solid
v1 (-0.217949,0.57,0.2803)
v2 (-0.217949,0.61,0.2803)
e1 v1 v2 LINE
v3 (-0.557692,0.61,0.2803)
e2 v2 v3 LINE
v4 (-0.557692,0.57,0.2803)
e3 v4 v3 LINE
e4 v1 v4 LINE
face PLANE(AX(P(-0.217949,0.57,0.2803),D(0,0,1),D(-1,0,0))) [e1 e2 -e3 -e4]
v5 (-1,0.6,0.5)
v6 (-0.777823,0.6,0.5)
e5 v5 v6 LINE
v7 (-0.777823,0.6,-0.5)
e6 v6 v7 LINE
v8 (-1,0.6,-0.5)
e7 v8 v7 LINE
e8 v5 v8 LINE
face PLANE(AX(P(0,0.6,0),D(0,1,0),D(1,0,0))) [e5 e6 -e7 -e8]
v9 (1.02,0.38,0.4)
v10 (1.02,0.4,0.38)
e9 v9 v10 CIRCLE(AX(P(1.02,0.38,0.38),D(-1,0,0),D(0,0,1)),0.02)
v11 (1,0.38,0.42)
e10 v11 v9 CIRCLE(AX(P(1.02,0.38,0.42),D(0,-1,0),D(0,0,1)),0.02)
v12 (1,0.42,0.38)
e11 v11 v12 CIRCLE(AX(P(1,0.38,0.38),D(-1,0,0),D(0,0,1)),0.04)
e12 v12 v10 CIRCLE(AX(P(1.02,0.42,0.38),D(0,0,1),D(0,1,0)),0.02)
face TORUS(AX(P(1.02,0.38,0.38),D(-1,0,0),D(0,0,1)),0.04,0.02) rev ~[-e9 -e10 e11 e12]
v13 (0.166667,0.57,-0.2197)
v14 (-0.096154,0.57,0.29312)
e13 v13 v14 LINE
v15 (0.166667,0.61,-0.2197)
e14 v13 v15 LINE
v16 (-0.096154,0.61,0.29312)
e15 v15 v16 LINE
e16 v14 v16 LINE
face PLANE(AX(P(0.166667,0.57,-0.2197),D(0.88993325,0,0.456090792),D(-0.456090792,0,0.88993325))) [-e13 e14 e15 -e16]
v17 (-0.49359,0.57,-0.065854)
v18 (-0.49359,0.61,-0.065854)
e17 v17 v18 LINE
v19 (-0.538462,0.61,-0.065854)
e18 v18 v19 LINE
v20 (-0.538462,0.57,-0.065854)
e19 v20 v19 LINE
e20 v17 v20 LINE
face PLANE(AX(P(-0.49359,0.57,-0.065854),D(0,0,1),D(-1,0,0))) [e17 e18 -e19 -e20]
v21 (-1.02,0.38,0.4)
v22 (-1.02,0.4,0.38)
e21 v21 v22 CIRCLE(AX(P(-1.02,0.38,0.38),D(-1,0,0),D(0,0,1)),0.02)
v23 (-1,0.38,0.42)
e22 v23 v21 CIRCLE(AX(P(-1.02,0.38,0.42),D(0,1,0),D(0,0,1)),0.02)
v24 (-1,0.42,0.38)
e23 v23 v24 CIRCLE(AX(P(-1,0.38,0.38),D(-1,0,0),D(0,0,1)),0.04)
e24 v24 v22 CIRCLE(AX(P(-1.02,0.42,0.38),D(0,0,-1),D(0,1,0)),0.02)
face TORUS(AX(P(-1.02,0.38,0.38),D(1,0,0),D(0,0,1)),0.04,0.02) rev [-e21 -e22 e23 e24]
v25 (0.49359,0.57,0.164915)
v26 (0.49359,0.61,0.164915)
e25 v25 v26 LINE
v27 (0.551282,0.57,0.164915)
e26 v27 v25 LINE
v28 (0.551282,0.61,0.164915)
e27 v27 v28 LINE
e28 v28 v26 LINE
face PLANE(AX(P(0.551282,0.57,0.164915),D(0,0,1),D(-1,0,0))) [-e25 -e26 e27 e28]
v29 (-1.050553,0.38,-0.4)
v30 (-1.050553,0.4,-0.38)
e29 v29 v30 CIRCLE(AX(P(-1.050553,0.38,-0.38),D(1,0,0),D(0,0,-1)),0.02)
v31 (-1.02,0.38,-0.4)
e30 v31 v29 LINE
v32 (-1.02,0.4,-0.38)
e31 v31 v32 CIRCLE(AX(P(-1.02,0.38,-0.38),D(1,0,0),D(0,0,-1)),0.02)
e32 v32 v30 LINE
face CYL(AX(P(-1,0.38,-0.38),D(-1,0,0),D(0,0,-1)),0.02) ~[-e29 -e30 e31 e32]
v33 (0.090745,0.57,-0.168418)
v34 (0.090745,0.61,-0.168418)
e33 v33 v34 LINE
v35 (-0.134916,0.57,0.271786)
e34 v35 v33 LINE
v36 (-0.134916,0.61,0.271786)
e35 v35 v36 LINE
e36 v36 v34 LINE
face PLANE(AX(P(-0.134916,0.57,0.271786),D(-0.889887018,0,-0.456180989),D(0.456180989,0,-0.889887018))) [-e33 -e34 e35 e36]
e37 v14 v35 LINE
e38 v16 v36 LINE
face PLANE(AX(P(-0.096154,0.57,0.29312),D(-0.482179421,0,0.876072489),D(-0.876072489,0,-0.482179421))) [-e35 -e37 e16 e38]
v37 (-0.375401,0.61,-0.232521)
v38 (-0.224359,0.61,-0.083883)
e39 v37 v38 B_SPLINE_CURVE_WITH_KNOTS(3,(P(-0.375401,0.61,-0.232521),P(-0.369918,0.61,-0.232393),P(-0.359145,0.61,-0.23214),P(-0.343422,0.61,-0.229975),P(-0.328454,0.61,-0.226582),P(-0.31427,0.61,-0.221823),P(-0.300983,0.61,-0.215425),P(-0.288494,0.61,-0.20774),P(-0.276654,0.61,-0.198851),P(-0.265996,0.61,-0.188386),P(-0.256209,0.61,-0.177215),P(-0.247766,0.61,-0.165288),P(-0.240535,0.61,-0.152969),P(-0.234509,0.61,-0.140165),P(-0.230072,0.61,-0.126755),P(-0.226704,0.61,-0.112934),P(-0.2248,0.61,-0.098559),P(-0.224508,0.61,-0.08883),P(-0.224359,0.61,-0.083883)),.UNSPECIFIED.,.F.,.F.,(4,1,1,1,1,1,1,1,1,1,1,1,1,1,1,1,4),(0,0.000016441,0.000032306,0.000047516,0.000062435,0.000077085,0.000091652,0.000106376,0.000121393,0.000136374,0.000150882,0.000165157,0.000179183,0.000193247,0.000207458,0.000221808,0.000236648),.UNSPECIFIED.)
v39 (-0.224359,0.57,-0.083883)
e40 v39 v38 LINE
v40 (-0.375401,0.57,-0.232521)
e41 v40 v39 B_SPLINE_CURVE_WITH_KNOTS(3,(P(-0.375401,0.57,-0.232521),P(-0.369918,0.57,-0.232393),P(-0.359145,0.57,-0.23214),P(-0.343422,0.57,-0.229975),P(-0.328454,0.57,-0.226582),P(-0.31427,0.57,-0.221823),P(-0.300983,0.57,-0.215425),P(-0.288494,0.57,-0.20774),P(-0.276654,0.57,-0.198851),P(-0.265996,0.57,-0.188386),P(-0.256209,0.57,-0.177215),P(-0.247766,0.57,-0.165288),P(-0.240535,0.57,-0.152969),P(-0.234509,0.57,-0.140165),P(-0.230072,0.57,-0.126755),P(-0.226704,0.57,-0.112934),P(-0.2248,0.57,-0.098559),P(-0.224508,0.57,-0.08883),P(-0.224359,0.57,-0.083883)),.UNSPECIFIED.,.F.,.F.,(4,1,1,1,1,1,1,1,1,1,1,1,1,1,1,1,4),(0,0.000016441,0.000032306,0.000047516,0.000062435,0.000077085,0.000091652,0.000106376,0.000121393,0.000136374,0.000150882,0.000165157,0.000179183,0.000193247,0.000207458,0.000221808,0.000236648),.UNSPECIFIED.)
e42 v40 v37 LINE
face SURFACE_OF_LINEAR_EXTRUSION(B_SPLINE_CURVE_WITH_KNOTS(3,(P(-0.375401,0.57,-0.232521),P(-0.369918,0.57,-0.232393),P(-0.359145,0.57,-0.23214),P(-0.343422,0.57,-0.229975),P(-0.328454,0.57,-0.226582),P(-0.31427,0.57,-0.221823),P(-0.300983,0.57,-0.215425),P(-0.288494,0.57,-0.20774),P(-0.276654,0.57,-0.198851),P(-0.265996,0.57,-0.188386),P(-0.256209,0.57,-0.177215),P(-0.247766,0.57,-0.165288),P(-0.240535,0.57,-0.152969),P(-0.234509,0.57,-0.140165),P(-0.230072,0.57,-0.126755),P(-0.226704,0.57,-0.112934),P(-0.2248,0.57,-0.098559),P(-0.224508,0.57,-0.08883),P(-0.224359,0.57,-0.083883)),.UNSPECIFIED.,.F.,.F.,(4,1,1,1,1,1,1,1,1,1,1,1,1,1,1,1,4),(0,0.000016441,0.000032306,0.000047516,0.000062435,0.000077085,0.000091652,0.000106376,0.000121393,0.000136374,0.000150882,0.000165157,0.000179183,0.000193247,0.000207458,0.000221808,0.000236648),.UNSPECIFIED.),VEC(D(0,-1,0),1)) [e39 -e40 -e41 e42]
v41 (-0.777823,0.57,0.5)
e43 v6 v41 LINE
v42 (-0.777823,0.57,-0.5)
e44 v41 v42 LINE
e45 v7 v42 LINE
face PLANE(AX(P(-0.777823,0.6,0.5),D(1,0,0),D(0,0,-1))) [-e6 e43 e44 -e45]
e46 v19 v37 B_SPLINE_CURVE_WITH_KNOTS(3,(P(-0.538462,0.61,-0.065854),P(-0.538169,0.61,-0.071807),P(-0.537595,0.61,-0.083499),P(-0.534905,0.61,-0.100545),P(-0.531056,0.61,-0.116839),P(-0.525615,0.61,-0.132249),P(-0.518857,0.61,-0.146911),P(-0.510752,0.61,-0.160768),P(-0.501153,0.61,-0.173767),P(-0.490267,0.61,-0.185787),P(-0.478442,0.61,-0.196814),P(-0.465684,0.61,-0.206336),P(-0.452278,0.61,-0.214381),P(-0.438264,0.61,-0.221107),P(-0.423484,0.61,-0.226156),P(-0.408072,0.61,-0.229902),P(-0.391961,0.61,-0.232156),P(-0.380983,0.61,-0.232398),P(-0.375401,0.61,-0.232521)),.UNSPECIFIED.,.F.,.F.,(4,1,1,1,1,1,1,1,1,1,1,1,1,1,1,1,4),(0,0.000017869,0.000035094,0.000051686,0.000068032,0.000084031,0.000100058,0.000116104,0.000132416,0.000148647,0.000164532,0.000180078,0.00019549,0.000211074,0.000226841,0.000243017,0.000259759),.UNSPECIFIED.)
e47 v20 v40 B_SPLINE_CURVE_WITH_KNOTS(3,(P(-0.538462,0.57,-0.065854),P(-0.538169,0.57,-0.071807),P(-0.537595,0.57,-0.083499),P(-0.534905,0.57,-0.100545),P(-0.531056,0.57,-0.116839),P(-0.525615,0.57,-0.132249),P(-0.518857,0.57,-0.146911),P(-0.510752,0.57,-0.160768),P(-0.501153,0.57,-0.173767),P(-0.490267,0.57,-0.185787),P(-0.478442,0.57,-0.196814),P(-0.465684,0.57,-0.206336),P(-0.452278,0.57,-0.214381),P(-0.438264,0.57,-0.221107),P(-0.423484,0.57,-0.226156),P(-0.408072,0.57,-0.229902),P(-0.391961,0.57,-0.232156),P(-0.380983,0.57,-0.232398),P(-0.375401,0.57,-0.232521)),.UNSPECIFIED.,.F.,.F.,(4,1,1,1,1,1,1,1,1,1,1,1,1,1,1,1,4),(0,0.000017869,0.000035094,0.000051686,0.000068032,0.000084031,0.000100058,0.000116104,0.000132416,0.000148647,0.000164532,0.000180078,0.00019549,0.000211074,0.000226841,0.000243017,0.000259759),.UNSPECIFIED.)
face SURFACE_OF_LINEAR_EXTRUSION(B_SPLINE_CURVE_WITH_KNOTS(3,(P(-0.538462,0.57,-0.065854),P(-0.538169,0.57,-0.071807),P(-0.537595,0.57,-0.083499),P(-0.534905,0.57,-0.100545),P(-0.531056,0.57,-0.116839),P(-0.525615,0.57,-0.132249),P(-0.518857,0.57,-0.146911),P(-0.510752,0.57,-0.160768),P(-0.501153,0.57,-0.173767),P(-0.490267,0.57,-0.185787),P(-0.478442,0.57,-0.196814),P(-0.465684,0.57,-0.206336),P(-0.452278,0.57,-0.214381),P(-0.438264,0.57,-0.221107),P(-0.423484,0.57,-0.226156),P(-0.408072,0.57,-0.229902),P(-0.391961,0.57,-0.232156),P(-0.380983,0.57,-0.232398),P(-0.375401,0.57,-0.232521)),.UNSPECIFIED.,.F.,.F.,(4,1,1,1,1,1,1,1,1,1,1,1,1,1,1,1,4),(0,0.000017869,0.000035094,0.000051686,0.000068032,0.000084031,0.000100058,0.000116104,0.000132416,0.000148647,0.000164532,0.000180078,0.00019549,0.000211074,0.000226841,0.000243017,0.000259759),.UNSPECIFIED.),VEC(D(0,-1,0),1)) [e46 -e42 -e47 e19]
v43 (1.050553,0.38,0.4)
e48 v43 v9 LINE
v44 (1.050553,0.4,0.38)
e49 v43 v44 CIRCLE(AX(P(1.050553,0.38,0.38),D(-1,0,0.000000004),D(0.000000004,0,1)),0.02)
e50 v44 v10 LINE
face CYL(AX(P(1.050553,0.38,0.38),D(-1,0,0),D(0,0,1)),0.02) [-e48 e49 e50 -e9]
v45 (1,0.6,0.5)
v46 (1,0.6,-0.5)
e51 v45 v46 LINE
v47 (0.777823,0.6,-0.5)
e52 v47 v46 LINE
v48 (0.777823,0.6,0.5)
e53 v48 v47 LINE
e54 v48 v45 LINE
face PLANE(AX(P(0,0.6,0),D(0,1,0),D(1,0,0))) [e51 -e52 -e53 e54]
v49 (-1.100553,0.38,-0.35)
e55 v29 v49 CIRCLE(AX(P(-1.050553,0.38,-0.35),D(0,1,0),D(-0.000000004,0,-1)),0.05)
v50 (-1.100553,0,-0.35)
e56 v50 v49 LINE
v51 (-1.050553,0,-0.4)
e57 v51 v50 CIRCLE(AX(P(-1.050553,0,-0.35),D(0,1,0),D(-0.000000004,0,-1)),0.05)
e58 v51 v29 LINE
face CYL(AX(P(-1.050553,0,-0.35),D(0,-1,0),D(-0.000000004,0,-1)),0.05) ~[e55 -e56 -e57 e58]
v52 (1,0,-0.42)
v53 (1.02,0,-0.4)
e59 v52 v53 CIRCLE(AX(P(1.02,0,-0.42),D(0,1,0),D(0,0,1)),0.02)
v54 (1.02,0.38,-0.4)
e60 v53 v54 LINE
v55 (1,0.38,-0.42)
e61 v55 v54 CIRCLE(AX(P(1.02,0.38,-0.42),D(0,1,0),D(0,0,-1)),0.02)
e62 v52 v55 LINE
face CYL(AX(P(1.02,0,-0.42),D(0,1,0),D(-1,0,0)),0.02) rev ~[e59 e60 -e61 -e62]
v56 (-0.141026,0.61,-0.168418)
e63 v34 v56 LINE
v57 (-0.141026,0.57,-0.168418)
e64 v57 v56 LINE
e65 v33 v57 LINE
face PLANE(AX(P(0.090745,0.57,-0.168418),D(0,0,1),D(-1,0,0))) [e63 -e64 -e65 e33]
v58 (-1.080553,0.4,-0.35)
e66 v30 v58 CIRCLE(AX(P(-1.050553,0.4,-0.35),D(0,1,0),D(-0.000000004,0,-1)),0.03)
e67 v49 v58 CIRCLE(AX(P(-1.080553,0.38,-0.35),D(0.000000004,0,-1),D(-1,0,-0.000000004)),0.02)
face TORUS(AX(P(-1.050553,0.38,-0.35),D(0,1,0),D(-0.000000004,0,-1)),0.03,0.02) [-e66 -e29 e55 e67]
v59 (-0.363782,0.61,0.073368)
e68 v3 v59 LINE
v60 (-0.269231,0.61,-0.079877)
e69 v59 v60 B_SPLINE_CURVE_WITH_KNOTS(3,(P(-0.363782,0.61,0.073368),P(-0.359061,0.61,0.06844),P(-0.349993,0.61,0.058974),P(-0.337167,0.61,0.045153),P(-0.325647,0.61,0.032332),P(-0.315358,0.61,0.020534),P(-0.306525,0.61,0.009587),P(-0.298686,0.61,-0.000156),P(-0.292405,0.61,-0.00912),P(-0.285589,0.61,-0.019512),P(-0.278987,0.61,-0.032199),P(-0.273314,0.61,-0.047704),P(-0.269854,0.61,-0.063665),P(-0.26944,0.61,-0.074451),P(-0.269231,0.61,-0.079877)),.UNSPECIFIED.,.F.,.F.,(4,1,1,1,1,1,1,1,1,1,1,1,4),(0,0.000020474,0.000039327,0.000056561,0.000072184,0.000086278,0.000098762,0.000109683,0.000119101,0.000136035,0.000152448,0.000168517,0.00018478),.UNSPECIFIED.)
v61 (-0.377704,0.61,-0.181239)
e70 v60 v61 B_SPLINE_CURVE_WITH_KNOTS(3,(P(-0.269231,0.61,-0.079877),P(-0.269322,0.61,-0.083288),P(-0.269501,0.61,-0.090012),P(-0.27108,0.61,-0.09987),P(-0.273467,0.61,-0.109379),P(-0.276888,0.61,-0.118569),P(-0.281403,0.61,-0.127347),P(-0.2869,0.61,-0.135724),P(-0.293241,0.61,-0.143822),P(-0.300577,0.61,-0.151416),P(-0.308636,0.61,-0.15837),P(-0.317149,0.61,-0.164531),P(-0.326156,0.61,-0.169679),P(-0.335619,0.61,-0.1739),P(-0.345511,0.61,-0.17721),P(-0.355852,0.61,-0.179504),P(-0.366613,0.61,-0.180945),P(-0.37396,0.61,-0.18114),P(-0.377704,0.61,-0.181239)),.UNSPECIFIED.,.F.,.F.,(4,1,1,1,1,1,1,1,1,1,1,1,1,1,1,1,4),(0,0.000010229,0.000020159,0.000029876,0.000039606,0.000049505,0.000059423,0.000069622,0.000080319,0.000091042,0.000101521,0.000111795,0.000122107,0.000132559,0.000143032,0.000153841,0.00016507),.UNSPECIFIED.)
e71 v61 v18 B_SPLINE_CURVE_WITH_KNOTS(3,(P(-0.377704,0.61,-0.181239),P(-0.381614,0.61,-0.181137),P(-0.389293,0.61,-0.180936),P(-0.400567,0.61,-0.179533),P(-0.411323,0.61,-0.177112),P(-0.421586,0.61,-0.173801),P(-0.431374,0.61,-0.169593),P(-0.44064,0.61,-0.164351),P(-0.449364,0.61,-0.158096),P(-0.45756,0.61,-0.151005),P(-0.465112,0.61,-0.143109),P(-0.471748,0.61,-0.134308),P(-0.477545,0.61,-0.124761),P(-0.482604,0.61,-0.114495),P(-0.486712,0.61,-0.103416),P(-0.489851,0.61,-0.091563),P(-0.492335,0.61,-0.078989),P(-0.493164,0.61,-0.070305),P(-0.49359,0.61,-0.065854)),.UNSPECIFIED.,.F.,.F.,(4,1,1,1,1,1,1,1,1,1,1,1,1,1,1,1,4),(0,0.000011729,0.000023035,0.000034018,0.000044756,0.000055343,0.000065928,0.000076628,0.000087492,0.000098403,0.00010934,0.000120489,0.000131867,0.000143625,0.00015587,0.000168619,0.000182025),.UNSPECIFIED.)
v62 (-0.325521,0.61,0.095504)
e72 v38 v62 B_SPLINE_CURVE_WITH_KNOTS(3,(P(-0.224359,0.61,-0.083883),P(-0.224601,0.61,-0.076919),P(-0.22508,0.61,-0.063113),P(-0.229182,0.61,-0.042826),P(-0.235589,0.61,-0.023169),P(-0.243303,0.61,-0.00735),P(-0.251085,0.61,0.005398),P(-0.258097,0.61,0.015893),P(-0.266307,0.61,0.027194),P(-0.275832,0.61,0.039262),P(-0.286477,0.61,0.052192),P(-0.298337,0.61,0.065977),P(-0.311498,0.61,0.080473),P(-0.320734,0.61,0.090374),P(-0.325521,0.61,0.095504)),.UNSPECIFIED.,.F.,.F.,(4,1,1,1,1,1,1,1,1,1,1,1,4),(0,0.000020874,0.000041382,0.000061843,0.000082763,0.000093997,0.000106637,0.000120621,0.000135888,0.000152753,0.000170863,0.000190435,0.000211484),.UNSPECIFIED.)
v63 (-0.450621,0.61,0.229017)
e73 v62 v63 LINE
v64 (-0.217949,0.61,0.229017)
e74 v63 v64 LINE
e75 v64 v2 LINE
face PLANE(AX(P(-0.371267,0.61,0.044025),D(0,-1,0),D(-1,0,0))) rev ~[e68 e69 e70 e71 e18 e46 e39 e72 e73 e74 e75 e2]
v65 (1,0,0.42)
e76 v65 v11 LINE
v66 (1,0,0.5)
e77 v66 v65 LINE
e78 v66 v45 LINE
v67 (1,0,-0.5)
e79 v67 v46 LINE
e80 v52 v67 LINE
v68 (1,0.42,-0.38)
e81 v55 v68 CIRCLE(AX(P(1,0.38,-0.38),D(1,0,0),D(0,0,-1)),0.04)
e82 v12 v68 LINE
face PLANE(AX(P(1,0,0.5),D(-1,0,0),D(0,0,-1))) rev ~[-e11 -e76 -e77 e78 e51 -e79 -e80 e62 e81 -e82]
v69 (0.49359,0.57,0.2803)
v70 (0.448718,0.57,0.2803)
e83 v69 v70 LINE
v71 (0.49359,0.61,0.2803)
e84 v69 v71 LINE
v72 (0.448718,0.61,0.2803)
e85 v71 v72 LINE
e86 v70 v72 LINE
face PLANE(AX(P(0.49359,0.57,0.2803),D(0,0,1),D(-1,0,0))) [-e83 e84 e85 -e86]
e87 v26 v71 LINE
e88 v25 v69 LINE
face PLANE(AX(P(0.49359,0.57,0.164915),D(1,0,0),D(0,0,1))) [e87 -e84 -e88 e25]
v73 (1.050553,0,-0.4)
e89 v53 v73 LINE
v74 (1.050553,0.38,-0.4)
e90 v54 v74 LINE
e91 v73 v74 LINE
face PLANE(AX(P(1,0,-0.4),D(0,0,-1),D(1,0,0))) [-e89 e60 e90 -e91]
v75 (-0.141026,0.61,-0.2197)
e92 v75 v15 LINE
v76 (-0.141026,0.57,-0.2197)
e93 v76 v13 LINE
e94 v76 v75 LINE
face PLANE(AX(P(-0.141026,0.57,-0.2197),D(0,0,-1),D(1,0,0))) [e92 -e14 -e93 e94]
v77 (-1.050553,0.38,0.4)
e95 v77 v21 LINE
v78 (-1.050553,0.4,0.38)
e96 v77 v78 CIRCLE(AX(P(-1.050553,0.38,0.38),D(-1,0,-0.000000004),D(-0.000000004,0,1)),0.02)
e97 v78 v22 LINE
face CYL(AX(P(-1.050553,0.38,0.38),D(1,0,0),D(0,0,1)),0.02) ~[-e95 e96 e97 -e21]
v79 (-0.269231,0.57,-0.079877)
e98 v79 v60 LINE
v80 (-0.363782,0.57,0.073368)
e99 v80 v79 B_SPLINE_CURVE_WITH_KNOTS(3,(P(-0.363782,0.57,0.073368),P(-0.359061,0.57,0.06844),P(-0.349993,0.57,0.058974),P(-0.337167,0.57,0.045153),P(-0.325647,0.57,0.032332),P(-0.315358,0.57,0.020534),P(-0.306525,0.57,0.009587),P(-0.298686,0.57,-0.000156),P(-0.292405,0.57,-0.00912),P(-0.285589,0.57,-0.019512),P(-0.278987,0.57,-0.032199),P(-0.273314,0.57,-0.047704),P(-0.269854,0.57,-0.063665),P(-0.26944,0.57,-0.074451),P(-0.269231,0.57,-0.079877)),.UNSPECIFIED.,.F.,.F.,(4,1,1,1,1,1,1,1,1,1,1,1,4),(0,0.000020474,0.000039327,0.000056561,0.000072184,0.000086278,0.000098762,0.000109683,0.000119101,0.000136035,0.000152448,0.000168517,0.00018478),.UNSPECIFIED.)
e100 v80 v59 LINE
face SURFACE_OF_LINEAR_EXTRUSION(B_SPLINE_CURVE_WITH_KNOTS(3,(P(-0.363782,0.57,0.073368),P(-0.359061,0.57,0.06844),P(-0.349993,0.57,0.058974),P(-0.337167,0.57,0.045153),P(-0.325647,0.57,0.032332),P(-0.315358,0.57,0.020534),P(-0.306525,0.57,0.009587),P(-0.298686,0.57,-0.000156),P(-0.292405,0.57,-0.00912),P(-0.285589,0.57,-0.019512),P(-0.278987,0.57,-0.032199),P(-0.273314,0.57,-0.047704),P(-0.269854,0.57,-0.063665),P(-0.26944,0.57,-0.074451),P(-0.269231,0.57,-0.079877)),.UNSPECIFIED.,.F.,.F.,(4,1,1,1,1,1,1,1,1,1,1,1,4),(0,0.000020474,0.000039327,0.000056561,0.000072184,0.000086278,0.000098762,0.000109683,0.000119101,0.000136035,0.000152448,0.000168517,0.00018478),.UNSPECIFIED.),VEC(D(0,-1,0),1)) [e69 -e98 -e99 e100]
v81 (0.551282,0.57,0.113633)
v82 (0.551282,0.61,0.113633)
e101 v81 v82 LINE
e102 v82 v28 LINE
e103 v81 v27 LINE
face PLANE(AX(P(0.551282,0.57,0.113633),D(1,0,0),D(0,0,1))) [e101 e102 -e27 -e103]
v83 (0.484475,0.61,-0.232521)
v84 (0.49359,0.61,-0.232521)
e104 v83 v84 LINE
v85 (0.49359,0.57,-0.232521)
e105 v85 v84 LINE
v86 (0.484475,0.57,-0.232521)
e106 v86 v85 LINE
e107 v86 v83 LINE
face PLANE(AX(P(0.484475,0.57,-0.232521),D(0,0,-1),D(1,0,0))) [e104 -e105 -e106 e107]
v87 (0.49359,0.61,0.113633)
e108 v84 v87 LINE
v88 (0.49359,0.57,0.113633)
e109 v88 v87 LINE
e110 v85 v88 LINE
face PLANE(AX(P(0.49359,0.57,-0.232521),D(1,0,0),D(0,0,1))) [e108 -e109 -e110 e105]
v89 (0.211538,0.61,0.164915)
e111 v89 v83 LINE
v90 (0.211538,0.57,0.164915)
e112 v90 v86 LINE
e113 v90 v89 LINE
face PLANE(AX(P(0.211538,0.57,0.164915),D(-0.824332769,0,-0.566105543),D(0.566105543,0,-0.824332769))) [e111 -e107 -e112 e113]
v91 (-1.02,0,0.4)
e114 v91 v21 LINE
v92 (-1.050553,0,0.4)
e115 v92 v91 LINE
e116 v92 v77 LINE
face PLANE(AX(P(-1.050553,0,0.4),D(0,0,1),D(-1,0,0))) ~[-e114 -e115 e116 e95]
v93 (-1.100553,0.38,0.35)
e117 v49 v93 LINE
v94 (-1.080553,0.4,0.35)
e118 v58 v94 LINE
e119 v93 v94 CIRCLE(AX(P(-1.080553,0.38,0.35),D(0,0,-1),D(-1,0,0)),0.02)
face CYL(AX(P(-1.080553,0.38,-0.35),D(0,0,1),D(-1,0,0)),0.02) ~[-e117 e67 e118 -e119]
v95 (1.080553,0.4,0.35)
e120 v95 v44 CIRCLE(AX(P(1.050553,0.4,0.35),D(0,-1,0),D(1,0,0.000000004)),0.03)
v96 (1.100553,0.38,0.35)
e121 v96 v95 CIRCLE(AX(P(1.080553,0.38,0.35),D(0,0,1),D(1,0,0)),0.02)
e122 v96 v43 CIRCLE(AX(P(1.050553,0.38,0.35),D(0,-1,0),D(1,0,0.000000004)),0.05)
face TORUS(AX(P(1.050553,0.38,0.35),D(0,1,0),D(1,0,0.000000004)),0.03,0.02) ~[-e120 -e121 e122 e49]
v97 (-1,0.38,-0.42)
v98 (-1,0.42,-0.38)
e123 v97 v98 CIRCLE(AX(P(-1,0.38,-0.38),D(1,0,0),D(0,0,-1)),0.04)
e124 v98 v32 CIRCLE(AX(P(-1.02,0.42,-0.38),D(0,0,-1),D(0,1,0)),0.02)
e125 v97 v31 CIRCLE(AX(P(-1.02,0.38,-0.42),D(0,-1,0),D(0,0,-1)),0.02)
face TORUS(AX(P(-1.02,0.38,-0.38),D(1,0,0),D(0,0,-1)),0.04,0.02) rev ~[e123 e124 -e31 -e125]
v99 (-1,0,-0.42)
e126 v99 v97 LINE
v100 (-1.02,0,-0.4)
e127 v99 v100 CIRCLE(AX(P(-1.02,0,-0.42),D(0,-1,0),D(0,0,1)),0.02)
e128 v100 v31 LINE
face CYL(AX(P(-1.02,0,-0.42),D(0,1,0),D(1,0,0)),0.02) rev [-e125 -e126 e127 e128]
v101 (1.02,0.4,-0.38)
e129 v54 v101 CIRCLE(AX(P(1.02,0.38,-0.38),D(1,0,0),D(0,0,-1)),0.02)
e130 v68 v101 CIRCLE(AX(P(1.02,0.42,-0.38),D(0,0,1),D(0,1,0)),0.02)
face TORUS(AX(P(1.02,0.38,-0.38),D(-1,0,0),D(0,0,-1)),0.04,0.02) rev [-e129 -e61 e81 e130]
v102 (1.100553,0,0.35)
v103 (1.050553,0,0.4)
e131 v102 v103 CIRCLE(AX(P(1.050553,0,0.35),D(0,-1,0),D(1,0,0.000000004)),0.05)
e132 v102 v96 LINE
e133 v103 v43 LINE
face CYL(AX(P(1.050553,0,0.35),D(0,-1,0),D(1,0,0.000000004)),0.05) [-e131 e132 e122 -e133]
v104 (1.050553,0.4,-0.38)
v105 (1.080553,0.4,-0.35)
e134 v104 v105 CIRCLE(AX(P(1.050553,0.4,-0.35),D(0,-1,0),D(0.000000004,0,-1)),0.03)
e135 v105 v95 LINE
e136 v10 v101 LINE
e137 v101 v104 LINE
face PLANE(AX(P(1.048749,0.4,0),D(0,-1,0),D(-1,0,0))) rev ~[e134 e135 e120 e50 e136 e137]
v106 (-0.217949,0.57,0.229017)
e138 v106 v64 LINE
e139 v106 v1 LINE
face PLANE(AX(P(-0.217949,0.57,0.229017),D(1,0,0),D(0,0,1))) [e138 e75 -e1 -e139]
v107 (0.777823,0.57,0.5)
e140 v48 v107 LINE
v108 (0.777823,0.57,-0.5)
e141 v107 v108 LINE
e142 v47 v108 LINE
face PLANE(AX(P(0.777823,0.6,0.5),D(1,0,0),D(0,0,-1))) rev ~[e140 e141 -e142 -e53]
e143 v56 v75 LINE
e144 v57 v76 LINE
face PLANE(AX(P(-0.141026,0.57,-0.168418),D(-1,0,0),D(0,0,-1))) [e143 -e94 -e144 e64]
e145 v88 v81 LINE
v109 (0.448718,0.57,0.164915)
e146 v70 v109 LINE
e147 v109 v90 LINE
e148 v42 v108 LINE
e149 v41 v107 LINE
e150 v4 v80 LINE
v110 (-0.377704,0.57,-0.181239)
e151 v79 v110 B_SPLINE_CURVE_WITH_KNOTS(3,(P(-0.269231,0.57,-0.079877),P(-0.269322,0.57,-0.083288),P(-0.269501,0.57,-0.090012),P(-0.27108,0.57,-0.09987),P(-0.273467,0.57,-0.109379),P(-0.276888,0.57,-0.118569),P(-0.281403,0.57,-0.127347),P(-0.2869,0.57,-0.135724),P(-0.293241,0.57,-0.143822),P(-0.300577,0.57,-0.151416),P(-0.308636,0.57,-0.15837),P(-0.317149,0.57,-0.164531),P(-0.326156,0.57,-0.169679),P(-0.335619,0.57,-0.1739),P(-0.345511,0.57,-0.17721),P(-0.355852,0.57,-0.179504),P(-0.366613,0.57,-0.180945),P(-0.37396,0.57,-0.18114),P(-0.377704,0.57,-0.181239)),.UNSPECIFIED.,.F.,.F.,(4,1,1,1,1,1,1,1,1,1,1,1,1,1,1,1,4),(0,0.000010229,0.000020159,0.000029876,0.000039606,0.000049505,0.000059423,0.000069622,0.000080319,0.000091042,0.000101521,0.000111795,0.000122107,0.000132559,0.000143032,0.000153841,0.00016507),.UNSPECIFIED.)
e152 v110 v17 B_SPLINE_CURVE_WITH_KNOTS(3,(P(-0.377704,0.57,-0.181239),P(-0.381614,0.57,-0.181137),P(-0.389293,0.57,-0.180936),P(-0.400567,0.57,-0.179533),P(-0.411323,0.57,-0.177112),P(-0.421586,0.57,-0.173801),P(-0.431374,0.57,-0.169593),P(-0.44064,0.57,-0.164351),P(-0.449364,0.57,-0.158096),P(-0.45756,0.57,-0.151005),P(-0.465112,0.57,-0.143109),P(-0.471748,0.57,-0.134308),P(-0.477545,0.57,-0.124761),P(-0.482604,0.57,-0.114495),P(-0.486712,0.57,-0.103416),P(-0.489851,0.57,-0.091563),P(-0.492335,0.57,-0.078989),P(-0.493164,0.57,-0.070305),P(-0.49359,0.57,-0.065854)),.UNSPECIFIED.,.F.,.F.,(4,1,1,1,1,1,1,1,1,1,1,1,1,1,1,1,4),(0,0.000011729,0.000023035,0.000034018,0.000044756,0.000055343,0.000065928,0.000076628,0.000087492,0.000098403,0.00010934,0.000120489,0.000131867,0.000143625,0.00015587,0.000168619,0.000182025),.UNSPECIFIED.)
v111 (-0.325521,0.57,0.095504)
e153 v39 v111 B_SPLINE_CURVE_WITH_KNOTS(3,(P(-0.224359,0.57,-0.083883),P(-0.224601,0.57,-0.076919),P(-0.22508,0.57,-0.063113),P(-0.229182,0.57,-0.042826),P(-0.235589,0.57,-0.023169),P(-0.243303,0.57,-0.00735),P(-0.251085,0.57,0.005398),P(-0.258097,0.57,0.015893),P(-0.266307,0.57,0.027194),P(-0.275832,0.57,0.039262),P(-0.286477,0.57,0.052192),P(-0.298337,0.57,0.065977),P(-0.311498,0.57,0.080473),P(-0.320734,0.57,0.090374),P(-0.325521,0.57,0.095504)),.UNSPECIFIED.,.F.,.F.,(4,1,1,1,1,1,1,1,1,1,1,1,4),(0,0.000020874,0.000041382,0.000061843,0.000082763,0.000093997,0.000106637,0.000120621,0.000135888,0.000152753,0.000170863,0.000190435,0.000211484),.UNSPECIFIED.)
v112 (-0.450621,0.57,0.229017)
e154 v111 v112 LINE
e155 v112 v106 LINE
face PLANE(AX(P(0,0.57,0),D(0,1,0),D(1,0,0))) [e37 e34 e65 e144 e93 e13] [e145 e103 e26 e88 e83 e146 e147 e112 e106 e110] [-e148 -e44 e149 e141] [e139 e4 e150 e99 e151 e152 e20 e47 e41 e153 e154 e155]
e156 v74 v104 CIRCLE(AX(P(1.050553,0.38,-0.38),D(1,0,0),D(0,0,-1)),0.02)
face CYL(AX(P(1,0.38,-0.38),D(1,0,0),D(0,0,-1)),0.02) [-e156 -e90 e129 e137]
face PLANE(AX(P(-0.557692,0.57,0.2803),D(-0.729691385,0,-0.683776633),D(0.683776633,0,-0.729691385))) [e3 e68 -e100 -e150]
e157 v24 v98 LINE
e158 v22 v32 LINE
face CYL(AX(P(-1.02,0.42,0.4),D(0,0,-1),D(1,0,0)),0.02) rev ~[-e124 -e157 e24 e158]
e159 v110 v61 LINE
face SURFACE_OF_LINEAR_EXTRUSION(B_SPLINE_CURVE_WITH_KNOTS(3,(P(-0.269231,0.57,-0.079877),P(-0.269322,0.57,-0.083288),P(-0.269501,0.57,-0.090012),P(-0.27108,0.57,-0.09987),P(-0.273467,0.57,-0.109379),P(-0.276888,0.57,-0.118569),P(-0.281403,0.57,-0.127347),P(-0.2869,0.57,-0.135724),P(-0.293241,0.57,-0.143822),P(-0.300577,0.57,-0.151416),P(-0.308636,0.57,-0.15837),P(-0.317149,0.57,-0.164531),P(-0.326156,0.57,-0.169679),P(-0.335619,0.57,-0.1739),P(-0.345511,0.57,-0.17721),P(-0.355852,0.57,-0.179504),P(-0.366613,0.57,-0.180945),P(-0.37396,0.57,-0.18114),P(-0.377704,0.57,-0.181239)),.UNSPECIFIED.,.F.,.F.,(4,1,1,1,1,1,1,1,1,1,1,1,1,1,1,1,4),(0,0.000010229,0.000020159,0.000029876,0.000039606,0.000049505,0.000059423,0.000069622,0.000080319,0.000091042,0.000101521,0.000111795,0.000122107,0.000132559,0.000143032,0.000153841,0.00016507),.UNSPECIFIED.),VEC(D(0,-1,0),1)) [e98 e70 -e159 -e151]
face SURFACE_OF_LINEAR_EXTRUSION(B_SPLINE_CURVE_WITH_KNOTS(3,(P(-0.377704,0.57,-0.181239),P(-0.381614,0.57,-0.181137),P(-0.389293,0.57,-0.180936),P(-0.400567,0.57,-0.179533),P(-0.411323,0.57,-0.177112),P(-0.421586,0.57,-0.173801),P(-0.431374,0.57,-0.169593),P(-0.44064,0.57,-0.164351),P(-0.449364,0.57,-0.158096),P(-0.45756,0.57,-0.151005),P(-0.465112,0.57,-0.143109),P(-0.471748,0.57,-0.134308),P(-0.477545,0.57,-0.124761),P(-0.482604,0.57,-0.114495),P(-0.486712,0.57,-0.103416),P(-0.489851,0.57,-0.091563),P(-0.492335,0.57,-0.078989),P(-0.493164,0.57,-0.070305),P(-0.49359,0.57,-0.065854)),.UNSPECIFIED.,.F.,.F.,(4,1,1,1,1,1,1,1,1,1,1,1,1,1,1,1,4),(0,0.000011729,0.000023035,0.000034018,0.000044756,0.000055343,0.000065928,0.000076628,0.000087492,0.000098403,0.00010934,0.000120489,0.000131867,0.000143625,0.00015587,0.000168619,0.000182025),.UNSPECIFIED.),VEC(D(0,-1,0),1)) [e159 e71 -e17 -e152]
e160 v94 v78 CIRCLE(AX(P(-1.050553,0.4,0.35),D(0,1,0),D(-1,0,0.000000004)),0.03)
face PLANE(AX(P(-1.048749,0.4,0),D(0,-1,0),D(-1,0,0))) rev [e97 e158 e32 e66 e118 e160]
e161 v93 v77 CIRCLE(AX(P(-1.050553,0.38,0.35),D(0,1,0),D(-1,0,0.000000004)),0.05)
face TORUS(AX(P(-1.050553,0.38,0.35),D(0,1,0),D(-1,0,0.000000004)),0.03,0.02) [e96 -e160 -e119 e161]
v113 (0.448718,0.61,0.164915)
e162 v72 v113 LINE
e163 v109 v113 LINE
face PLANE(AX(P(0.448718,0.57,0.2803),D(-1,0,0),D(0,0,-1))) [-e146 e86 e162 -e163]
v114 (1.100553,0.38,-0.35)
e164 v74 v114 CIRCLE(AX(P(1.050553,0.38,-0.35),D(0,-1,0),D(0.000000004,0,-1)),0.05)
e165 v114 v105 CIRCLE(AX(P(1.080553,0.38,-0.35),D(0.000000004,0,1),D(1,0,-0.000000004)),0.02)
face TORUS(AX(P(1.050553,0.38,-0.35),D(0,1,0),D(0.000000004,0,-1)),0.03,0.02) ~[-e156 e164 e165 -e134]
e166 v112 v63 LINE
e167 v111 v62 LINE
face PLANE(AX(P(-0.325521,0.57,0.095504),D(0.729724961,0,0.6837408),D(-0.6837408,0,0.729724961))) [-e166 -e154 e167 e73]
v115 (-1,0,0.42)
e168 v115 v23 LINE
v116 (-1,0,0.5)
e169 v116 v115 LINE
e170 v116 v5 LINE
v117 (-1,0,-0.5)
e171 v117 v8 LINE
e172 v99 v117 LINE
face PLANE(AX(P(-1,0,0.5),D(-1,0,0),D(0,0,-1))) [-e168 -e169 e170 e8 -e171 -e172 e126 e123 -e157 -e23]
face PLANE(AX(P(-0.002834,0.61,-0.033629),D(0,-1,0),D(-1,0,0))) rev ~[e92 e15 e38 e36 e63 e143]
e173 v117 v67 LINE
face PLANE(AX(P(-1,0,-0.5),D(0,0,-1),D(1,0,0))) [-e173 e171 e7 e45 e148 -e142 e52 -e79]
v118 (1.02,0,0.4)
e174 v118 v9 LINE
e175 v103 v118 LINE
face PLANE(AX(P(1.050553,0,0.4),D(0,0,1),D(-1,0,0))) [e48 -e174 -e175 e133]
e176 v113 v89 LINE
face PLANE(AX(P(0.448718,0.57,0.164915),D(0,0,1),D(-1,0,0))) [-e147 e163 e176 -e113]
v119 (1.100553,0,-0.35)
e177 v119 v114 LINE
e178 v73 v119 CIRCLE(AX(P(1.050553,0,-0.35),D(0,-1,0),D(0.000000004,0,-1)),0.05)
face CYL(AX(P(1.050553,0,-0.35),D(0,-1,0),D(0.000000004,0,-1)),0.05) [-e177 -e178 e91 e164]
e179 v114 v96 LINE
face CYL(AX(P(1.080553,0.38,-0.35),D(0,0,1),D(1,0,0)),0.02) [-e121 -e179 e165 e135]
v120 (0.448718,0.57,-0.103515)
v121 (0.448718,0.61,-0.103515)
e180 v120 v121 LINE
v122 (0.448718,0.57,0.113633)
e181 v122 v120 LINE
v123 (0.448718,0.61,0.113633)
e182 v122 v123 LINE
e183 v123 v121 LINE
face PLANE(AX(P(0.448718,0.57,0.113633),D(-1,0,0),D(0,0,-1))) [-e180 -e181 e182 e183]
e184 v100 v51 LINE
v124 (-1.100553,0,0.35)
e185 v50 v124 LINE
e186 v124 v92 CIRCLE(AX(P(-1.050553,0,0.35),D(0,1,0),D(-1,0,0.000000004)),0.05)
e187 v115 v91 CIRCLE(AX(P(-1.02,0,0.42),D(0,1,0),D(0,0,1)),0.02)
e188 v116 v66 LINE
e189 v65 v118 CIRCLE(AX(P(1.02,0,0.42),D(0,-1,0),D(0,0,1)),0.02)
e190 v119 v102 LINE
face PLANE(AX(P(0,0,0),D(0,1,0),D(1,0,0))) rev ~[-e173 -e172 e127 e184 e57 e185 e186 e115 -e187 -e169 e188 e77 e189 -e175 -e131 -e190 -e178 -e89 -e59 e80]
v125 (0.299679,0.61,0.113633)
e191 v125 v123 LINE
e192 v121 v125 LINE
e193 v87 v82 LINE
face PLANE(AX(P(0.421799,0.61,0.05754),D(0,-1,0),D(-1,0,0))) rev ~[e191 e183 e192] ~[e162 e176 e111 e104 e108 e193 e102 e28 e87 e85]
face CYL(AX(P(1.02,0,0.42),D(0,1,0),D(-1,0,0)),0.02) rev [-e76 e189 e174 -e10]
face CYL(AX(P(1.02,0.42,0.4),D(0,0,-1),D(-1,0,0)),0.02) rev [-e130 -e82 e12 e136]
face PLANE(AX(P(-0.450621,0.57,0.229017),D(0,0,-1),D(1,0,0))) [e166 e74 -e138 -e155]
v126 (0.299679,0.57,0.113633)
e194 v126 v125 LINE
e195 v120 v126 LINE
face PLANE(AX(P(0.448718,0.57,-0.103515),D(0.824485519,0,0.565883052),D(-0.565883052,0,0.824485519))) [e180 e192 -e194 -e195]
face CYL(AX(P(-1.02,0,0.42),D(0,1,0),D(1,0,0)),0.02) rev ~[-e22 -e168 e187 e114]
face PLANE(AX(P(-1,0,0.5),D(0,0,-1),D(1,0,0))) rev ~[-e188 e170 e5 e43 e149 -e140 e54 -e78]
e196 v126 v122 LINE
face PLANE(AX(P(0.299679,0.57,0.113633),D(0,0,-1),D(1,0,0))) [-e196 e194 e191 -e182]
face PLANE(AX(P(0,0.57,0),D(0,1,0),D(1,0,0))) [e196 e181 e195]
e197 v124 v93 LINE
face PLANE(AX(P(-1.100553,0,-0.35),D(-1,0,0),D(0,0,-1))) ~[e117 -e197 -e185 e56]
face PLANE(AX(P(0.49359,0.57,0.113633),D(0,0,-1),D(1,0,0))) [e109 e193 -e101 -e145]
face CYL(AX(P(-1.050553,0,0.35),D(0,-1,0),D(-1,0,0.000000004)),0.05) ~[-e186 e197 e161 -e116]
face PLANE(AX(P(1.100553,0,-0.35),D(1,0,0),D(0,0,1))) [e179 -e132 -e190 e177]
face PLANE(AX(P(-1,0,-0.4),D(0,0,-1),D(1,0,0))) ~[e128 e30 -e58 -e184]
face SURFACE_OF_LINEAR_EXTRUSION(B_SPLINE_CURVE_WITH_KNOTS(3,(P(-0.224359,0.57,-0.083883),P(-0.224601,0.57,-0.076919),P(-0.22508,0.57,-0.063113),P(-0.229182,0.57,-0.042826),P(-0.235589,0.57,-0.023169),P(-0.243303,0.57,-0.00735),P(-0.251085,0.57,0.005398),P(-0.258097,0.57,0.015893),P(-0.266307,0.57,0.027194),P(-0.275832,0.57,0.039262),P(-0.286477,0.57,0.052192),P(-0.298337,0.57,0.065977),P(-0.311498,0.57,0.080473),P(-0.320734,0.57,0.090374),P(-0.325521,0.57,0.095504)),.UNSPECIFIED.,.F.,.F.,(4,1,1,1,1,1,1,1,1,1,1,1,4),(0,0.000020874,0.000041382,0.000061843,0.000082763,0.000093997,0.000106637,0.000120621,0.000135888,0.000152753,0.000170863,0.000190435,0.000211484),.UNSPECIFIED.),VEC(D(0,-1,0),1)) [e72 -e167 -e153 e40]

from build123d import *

# Parameters (mm, degrees)
ESQUISSE1_W             = 2
ESQUISSE1_H             = 1
BOSS_EXTRU_1_DEPTH      = 0.6
ESQUISSE2_W             = 1.555645222
ESQUISSE2_H             = 1
ENL_V_MAT_EXTRU_1_DEPTH = 0.03
BOSS_EXTRU_2_DEPTH      = 0.4
CONG_1_R                = 0.02
CONG_1_OF_SYM_TRIE2_R   = 0.02
BOSS_EXTRU_3_DEPTH      = 0.04


with BuildPart() as part:
    # Esquisse1 → Boss.-Extru.1 (new body)
    with BuildSketch(Plane(origin=(0, 0, 0), x_dir=(1, 0, 0), z_dir=(0, 1, 0))):
        Rectangle(ESQUISSE1_W, ESQUISSE1_H)
    extrude(amount=BOSS_EXTRU_1_DEPTH)

    # Esquisse2 → Enlèv. mat.-Extru.1 (cut)
    with BuildSketch(Plane(origin=(0, 0.6, 0), x_dir=(1, 0, 0), z_dir=(0, 1, 0))):
        Rectangle(ESQUISSE2_W, ESQUISSE2_H)
    extrude(amount=-ENL_V_MAT_EXTRU_1_DEPTH, mode=Mode.SUBTRACT)

    # Esquisse3 → Boss.-Extru.2 (add)
    with BuildSketch(Plane(origin=(0, 0, 0), x_dir=(1, 0, 0), z_dir=(0, 1, 0))):
        with BuildLine():
            Line((1, 0.4), (1.050552667, 0.4))
            ThreePointArc((1.050552667, 0.4), (1.085908006, 0.385355339), (1.100552667, 0.35))
            Line((1.100552667, 0.35), (1.100552667, -0.35))
            ThreePointArc((1.100552667, -0.35), (1.085908006, -0.385355339), (1.050552667, -0.4))
            Line((1.050552667, -0.4), (1, -0.4))
            Line((1, -0.4), (1, 0.4))
        make_face()
    boss_extru_2 = extrude(amount=BOSS_EXTRU_2_DEPTH)

    # Congé1
    cong_1_edges = [part.edges().sort_by_distance(p)[0] for p in [
        (1, 0.2, -0.4),
        (1, 0.2, 0.4),
        (1, 0.4, 0),
        (1.025276334, 0.4, 0.4),
        (1.085908006, 0.4, 0.385355339),
        (1.100552667, 0.4, 0),
        (1.085908006, 0.4, -0.385355339),
        (1.025276334, 0.4, -0.4),
    ]]
    fillet(cong_1_edges, radius=CONG_1_R)

    # Symétrie2: Boss.-Extru.2 across plane
    add(boss_extru_2.mirror(Plane(origin=(0, 0, 0), x_dir=(0, 0, 1), z_dir=(1, 0, 0))))

    # Congé1 of Symétrie2
    cong_1_of_sym_trie2_edges = [part.edges().sort_by_distance(p)[0] for p in [
        (-1, 0.2, -0.4),
        (-1, 0.2, 0.4),
        (-1, 0.4, 0),
        (-1.025276334, 0.4, 0.4),
        (-1.085908006, 0.4, 0.385355339),
        (-1.100552667, 0.4, 0),
        (-1.085908006, 0.4, -0.385355339),
        (-1.025276334, 0.4, -0.4),
    ]]
    fillet(cong_1_of_sym_trie2_edges, radius=CONG_1_OF_SYM_TRIE2_R)

    # Esquisse4 → Boss.-Extru.3 (add)
    with BuildSketch(Plane(origin=(0, 0.57, 0), x_dir=(1, 0, 0), z_dir=(0, 1, 0))):
        Polygon((0.48447516, 0.23252099), (0.493589744, 0.23252099), (0.493589744, -0.113632856), (0.551282051, -0.113632856), (0.551282051, -0.164914907), (0.493589744, -0.164914907), (0.493589744, -0.280299523), (0.448717949, -0.280299523), (0.448717949, -0.164914907), (0.211538462, -0.164914907), align=None)
        Polygon((0.448717949, -0.113632856), (0.448717949, 0.10351458), (0.299679487, -0.113632856), align=None, mode=Mode.SUBTRACT)
        Polygon((-0.141025641, 0.219700477), (0.166666667, 0.219700477), (-0.096153846, -0.293120035), (-0.134915865, -0.271785901), (0.090745192, 0.168418426), (-0.141025641, 0.168418426), align=None)
        with BuildLine():
            Line((-0.493589744, 0.065854324), (-0.538461538, 0.065854324))
            add(Edge.make_bspline(
                [(-0.538461538, 0.065854324), (-0.538169088, 0.071807307), (-0.537594723, 0.08349881), (-0.534904968, 0.100545082), (-0.531056271, 0.116838625), (-0.525614635, 0.132248612), (-0.518856595, 0.146911299), (-0.510752305, 0.160768444), (-0.501153184, 0.173767185), (-0.490266507, 0.18578702), (-0.478442416, 0.196813816), (-0.465684425, 0.206335994), (-0.452277992, 0.214381375), (-0.438263792, 0.221107267), (-0.423483712, 0.226155816), (-0.408071875, 0.229901765), (-0.39196057, 0.232155528), (-0.380983424, 0.232397784), (-0.375400641, 0.23252099)],
                knots=[0, 0, 0, 0, 1.7869e-05, 3.5094e-05, 5.1686e-05, 6.8032e-05, 8.4031e-05, 0.000100058, 0.000116104, 0.000132416, 0.000148647, 0.000164532, 0.000180078, 0.00019549, 0.000211074, 0.000226841, 0.000243017, 0.000259759, 0.000259759, 0.000259759, 0.000259759], degree=3))
            add(Edge.make_bspline(
                [(-0.375400641, 0.23252099), (-0.369918059, 0.232392639), (-0.359144981, 0.232140434), (-0.343421836, 0.229974573), (-0.328453651, 0.226582346), (-0.314269685, 0.221823), (-0.300983104, 0.215425225), (-0.288494098, 0.207739862), (-0.276653982, 0.198851315), (-0.26599587, 0.188386485), (-0.256209001, 0.177214715), (-0.247765822, 0.165287872), (-0.24053537, 0.152969403), (-0.234508559, 0.140165374), (-0.230071968, 0.126755227), (-0.226703652, 0.112934198), (-0.224799736, 0.098559225), (-0.224507533, 0.088829717), (-0.224358974, 0.08388317)],
                knots=[0, 0, 0, 0, 1.6441e-05, 3.2306e-05, 4.7516e-05, 6.2435e-05, 7.7085e-05, 9.1652e-05, 0.000106376, 0.000121393, 0.000136374, 0.000150882, 0.000165157, 0.000179183, 0.000193247, 0.000207458, 0.000221808, 0.000236648, 0.000236648, 0.000236648, 0.000236648], degree=3))
            add(Edge.make_bspline(
                [(-0.224358974, 0.08388317), (-0.224600869, 0.076919193), (-0.225080414, 0.063113449), (-0.229182467, 0.042825611), (-0.235589112, 0.023169408), (-0.24330302, 0.007349794), (-0.251084798, -0.005397848), (-0.258097299, -0.015893378), (-0.266306557, -0.027194159), (-0.275832057, -0.03926235), (-0.286476753, -0.052192479), (-0.298337062, -0.065976736), (-0.31149756, -0.080472703), (-0.320734488, -0.090373503), (-0.325520833, -0.09550385)],
                knots=[0, 0, 0, 0, 2.0874e-05, 4.1382e-05, 6.1843e-05, 8.2763e-05, 9.3997e-05, 0.000106637, 0.000120621, 0.000135888, 0.000152753, 0.000170863, 0.000190435, 0.000211484, 0.000211484, 0.000211484, 0.000211484], degree=3))
            Line((-0.325520833, -0.09550385), (-0.450620994, -0.229017471))
            Line((-0.450620994, -0.229017471), (-0.217948718, -0.229017471))
            Line((-0.217948718, -0.229017471), (-0.217948718, -0.280299523))
            Line((-0.217948718, -0.280299523), (-0.557692308, -0.280299523))
            Line((-0.557692308, -0.280299523), (-0.363782051, -0.073368433))
            add(Edge.make_bspline(
                [(-0.363782051, -0.073368433), (-0.359060925, -0.068440103), (-0.349992606, -0.058973791), (-0.337166524, -0.045153368), (-0.325646669, -0.032332005), (-0.31535847, -0.020533927), (-0.306525112, -0.00958656), (-0.298686221, 0.000155541), (-0.292405423, 0.009120462), (-0.285588938, 0.019511978), (-0.27898694, 0.032199452), (-0.273313747, 0.047704265), (-0.269854482, 0.063665301), (-0.269439506, 0.074451306), (-0.269230769, 0.079876759)],
                knots=[0, 0, 0, 0, 2.0474e-05, 3.9327e-05, 5.6561e-05, 7.2184e-05, 8.6278e-05, 9.8762e-05, 0.000109683, 0.000119101, 0.000136035, 0.000152448, 0.000168517, 0.00018478, 0.00018478, 0.00018478, 0.00018478], degree=3))
            add(Edge.make_bspline(
                [(-0.269230769, 0.079876759), (-0.26932159, 0.083288388), (-0.269500579, 0.090012052), (-0.27108025, 0.099870018), (-0.273467465, 0.109379277), (-0.276888216, 0.11856908), (-0.281403465, 0.12734703), (-0.286899662, 0.135723813), (-0.2932411, 0.143822236), (-0.300576995, 0.151415565), (-0.308635784, 0.158370023), (-0.317149248, 0.164530606), (-0.326156406, 0.169679051), (-0.33561928, 0.17389955), (-0.34551149, 0.177210319), (-0.355852168, 0.179504402), (-0.366612742, 0.180944757), (-0.373960384, 0.181139638), (-0.377704327, 0.181238939)],
                knots=[0, 0, 0, 0, 1.0229e-05, 2.0159e-05, 2.9876e-05, 3.9606e-05, 4.9505e-05, 5.9423e-05, 6.9622e-05, 8.0319e-05, 9.1042e-05, 0.000101521, 0.000111795, 0.000122107, 0.000132559, 0.000143032, 0.000153841, 0.00016507, 0.00016507, 0.00016507, 0.00016507], degree=3))
            add(Edge.make_bspline(
                [(-0.377704327, 0.181238939), (-0.381614446, 0.181136791), (-0.389293274, 0.180936191), (-0.400567421, 0.179532953), (-0.411322533, 0.177112119), (-0.421585662, 0.173801165), (-0.431374174, 0.169592801), (-0.440640466, 0.164351123), (-0.449363736, 0.158096338), (-0.457560382, 0.15100483), (-0.465112379, 0.143109459), (-0.471747647, 0.134308036), (-0.477545363, 0.124761262), (-0.482603825, 0.114494898), (-0.486711781, 0.103415786), (-0.489850802, 0.091563257), (-0.492334638, 0.078988774), (-0.493164426, 0.07030519), (-0.493589744, 0.065854324)],
                knots=[0, 0, 0, 0, 1.1729e-05, 2.3035e-05, 3.4018e-05, 4.4756e-05, 5.5343e-05, 6.5928e-05, 7.6628e-05, 8.7492e-05, 9.8403e-05, 0.00010934, 0.000120489, 0.000131867, 0.000143625, 0.00015587, 0.000168619, 0.000182025, 0.000182025, 0.000182025, 0.000182025], degree=3))
        make_face()
    extrude(amount=BOSS_EXTRU_3_DEPTH)


solid = part.part
